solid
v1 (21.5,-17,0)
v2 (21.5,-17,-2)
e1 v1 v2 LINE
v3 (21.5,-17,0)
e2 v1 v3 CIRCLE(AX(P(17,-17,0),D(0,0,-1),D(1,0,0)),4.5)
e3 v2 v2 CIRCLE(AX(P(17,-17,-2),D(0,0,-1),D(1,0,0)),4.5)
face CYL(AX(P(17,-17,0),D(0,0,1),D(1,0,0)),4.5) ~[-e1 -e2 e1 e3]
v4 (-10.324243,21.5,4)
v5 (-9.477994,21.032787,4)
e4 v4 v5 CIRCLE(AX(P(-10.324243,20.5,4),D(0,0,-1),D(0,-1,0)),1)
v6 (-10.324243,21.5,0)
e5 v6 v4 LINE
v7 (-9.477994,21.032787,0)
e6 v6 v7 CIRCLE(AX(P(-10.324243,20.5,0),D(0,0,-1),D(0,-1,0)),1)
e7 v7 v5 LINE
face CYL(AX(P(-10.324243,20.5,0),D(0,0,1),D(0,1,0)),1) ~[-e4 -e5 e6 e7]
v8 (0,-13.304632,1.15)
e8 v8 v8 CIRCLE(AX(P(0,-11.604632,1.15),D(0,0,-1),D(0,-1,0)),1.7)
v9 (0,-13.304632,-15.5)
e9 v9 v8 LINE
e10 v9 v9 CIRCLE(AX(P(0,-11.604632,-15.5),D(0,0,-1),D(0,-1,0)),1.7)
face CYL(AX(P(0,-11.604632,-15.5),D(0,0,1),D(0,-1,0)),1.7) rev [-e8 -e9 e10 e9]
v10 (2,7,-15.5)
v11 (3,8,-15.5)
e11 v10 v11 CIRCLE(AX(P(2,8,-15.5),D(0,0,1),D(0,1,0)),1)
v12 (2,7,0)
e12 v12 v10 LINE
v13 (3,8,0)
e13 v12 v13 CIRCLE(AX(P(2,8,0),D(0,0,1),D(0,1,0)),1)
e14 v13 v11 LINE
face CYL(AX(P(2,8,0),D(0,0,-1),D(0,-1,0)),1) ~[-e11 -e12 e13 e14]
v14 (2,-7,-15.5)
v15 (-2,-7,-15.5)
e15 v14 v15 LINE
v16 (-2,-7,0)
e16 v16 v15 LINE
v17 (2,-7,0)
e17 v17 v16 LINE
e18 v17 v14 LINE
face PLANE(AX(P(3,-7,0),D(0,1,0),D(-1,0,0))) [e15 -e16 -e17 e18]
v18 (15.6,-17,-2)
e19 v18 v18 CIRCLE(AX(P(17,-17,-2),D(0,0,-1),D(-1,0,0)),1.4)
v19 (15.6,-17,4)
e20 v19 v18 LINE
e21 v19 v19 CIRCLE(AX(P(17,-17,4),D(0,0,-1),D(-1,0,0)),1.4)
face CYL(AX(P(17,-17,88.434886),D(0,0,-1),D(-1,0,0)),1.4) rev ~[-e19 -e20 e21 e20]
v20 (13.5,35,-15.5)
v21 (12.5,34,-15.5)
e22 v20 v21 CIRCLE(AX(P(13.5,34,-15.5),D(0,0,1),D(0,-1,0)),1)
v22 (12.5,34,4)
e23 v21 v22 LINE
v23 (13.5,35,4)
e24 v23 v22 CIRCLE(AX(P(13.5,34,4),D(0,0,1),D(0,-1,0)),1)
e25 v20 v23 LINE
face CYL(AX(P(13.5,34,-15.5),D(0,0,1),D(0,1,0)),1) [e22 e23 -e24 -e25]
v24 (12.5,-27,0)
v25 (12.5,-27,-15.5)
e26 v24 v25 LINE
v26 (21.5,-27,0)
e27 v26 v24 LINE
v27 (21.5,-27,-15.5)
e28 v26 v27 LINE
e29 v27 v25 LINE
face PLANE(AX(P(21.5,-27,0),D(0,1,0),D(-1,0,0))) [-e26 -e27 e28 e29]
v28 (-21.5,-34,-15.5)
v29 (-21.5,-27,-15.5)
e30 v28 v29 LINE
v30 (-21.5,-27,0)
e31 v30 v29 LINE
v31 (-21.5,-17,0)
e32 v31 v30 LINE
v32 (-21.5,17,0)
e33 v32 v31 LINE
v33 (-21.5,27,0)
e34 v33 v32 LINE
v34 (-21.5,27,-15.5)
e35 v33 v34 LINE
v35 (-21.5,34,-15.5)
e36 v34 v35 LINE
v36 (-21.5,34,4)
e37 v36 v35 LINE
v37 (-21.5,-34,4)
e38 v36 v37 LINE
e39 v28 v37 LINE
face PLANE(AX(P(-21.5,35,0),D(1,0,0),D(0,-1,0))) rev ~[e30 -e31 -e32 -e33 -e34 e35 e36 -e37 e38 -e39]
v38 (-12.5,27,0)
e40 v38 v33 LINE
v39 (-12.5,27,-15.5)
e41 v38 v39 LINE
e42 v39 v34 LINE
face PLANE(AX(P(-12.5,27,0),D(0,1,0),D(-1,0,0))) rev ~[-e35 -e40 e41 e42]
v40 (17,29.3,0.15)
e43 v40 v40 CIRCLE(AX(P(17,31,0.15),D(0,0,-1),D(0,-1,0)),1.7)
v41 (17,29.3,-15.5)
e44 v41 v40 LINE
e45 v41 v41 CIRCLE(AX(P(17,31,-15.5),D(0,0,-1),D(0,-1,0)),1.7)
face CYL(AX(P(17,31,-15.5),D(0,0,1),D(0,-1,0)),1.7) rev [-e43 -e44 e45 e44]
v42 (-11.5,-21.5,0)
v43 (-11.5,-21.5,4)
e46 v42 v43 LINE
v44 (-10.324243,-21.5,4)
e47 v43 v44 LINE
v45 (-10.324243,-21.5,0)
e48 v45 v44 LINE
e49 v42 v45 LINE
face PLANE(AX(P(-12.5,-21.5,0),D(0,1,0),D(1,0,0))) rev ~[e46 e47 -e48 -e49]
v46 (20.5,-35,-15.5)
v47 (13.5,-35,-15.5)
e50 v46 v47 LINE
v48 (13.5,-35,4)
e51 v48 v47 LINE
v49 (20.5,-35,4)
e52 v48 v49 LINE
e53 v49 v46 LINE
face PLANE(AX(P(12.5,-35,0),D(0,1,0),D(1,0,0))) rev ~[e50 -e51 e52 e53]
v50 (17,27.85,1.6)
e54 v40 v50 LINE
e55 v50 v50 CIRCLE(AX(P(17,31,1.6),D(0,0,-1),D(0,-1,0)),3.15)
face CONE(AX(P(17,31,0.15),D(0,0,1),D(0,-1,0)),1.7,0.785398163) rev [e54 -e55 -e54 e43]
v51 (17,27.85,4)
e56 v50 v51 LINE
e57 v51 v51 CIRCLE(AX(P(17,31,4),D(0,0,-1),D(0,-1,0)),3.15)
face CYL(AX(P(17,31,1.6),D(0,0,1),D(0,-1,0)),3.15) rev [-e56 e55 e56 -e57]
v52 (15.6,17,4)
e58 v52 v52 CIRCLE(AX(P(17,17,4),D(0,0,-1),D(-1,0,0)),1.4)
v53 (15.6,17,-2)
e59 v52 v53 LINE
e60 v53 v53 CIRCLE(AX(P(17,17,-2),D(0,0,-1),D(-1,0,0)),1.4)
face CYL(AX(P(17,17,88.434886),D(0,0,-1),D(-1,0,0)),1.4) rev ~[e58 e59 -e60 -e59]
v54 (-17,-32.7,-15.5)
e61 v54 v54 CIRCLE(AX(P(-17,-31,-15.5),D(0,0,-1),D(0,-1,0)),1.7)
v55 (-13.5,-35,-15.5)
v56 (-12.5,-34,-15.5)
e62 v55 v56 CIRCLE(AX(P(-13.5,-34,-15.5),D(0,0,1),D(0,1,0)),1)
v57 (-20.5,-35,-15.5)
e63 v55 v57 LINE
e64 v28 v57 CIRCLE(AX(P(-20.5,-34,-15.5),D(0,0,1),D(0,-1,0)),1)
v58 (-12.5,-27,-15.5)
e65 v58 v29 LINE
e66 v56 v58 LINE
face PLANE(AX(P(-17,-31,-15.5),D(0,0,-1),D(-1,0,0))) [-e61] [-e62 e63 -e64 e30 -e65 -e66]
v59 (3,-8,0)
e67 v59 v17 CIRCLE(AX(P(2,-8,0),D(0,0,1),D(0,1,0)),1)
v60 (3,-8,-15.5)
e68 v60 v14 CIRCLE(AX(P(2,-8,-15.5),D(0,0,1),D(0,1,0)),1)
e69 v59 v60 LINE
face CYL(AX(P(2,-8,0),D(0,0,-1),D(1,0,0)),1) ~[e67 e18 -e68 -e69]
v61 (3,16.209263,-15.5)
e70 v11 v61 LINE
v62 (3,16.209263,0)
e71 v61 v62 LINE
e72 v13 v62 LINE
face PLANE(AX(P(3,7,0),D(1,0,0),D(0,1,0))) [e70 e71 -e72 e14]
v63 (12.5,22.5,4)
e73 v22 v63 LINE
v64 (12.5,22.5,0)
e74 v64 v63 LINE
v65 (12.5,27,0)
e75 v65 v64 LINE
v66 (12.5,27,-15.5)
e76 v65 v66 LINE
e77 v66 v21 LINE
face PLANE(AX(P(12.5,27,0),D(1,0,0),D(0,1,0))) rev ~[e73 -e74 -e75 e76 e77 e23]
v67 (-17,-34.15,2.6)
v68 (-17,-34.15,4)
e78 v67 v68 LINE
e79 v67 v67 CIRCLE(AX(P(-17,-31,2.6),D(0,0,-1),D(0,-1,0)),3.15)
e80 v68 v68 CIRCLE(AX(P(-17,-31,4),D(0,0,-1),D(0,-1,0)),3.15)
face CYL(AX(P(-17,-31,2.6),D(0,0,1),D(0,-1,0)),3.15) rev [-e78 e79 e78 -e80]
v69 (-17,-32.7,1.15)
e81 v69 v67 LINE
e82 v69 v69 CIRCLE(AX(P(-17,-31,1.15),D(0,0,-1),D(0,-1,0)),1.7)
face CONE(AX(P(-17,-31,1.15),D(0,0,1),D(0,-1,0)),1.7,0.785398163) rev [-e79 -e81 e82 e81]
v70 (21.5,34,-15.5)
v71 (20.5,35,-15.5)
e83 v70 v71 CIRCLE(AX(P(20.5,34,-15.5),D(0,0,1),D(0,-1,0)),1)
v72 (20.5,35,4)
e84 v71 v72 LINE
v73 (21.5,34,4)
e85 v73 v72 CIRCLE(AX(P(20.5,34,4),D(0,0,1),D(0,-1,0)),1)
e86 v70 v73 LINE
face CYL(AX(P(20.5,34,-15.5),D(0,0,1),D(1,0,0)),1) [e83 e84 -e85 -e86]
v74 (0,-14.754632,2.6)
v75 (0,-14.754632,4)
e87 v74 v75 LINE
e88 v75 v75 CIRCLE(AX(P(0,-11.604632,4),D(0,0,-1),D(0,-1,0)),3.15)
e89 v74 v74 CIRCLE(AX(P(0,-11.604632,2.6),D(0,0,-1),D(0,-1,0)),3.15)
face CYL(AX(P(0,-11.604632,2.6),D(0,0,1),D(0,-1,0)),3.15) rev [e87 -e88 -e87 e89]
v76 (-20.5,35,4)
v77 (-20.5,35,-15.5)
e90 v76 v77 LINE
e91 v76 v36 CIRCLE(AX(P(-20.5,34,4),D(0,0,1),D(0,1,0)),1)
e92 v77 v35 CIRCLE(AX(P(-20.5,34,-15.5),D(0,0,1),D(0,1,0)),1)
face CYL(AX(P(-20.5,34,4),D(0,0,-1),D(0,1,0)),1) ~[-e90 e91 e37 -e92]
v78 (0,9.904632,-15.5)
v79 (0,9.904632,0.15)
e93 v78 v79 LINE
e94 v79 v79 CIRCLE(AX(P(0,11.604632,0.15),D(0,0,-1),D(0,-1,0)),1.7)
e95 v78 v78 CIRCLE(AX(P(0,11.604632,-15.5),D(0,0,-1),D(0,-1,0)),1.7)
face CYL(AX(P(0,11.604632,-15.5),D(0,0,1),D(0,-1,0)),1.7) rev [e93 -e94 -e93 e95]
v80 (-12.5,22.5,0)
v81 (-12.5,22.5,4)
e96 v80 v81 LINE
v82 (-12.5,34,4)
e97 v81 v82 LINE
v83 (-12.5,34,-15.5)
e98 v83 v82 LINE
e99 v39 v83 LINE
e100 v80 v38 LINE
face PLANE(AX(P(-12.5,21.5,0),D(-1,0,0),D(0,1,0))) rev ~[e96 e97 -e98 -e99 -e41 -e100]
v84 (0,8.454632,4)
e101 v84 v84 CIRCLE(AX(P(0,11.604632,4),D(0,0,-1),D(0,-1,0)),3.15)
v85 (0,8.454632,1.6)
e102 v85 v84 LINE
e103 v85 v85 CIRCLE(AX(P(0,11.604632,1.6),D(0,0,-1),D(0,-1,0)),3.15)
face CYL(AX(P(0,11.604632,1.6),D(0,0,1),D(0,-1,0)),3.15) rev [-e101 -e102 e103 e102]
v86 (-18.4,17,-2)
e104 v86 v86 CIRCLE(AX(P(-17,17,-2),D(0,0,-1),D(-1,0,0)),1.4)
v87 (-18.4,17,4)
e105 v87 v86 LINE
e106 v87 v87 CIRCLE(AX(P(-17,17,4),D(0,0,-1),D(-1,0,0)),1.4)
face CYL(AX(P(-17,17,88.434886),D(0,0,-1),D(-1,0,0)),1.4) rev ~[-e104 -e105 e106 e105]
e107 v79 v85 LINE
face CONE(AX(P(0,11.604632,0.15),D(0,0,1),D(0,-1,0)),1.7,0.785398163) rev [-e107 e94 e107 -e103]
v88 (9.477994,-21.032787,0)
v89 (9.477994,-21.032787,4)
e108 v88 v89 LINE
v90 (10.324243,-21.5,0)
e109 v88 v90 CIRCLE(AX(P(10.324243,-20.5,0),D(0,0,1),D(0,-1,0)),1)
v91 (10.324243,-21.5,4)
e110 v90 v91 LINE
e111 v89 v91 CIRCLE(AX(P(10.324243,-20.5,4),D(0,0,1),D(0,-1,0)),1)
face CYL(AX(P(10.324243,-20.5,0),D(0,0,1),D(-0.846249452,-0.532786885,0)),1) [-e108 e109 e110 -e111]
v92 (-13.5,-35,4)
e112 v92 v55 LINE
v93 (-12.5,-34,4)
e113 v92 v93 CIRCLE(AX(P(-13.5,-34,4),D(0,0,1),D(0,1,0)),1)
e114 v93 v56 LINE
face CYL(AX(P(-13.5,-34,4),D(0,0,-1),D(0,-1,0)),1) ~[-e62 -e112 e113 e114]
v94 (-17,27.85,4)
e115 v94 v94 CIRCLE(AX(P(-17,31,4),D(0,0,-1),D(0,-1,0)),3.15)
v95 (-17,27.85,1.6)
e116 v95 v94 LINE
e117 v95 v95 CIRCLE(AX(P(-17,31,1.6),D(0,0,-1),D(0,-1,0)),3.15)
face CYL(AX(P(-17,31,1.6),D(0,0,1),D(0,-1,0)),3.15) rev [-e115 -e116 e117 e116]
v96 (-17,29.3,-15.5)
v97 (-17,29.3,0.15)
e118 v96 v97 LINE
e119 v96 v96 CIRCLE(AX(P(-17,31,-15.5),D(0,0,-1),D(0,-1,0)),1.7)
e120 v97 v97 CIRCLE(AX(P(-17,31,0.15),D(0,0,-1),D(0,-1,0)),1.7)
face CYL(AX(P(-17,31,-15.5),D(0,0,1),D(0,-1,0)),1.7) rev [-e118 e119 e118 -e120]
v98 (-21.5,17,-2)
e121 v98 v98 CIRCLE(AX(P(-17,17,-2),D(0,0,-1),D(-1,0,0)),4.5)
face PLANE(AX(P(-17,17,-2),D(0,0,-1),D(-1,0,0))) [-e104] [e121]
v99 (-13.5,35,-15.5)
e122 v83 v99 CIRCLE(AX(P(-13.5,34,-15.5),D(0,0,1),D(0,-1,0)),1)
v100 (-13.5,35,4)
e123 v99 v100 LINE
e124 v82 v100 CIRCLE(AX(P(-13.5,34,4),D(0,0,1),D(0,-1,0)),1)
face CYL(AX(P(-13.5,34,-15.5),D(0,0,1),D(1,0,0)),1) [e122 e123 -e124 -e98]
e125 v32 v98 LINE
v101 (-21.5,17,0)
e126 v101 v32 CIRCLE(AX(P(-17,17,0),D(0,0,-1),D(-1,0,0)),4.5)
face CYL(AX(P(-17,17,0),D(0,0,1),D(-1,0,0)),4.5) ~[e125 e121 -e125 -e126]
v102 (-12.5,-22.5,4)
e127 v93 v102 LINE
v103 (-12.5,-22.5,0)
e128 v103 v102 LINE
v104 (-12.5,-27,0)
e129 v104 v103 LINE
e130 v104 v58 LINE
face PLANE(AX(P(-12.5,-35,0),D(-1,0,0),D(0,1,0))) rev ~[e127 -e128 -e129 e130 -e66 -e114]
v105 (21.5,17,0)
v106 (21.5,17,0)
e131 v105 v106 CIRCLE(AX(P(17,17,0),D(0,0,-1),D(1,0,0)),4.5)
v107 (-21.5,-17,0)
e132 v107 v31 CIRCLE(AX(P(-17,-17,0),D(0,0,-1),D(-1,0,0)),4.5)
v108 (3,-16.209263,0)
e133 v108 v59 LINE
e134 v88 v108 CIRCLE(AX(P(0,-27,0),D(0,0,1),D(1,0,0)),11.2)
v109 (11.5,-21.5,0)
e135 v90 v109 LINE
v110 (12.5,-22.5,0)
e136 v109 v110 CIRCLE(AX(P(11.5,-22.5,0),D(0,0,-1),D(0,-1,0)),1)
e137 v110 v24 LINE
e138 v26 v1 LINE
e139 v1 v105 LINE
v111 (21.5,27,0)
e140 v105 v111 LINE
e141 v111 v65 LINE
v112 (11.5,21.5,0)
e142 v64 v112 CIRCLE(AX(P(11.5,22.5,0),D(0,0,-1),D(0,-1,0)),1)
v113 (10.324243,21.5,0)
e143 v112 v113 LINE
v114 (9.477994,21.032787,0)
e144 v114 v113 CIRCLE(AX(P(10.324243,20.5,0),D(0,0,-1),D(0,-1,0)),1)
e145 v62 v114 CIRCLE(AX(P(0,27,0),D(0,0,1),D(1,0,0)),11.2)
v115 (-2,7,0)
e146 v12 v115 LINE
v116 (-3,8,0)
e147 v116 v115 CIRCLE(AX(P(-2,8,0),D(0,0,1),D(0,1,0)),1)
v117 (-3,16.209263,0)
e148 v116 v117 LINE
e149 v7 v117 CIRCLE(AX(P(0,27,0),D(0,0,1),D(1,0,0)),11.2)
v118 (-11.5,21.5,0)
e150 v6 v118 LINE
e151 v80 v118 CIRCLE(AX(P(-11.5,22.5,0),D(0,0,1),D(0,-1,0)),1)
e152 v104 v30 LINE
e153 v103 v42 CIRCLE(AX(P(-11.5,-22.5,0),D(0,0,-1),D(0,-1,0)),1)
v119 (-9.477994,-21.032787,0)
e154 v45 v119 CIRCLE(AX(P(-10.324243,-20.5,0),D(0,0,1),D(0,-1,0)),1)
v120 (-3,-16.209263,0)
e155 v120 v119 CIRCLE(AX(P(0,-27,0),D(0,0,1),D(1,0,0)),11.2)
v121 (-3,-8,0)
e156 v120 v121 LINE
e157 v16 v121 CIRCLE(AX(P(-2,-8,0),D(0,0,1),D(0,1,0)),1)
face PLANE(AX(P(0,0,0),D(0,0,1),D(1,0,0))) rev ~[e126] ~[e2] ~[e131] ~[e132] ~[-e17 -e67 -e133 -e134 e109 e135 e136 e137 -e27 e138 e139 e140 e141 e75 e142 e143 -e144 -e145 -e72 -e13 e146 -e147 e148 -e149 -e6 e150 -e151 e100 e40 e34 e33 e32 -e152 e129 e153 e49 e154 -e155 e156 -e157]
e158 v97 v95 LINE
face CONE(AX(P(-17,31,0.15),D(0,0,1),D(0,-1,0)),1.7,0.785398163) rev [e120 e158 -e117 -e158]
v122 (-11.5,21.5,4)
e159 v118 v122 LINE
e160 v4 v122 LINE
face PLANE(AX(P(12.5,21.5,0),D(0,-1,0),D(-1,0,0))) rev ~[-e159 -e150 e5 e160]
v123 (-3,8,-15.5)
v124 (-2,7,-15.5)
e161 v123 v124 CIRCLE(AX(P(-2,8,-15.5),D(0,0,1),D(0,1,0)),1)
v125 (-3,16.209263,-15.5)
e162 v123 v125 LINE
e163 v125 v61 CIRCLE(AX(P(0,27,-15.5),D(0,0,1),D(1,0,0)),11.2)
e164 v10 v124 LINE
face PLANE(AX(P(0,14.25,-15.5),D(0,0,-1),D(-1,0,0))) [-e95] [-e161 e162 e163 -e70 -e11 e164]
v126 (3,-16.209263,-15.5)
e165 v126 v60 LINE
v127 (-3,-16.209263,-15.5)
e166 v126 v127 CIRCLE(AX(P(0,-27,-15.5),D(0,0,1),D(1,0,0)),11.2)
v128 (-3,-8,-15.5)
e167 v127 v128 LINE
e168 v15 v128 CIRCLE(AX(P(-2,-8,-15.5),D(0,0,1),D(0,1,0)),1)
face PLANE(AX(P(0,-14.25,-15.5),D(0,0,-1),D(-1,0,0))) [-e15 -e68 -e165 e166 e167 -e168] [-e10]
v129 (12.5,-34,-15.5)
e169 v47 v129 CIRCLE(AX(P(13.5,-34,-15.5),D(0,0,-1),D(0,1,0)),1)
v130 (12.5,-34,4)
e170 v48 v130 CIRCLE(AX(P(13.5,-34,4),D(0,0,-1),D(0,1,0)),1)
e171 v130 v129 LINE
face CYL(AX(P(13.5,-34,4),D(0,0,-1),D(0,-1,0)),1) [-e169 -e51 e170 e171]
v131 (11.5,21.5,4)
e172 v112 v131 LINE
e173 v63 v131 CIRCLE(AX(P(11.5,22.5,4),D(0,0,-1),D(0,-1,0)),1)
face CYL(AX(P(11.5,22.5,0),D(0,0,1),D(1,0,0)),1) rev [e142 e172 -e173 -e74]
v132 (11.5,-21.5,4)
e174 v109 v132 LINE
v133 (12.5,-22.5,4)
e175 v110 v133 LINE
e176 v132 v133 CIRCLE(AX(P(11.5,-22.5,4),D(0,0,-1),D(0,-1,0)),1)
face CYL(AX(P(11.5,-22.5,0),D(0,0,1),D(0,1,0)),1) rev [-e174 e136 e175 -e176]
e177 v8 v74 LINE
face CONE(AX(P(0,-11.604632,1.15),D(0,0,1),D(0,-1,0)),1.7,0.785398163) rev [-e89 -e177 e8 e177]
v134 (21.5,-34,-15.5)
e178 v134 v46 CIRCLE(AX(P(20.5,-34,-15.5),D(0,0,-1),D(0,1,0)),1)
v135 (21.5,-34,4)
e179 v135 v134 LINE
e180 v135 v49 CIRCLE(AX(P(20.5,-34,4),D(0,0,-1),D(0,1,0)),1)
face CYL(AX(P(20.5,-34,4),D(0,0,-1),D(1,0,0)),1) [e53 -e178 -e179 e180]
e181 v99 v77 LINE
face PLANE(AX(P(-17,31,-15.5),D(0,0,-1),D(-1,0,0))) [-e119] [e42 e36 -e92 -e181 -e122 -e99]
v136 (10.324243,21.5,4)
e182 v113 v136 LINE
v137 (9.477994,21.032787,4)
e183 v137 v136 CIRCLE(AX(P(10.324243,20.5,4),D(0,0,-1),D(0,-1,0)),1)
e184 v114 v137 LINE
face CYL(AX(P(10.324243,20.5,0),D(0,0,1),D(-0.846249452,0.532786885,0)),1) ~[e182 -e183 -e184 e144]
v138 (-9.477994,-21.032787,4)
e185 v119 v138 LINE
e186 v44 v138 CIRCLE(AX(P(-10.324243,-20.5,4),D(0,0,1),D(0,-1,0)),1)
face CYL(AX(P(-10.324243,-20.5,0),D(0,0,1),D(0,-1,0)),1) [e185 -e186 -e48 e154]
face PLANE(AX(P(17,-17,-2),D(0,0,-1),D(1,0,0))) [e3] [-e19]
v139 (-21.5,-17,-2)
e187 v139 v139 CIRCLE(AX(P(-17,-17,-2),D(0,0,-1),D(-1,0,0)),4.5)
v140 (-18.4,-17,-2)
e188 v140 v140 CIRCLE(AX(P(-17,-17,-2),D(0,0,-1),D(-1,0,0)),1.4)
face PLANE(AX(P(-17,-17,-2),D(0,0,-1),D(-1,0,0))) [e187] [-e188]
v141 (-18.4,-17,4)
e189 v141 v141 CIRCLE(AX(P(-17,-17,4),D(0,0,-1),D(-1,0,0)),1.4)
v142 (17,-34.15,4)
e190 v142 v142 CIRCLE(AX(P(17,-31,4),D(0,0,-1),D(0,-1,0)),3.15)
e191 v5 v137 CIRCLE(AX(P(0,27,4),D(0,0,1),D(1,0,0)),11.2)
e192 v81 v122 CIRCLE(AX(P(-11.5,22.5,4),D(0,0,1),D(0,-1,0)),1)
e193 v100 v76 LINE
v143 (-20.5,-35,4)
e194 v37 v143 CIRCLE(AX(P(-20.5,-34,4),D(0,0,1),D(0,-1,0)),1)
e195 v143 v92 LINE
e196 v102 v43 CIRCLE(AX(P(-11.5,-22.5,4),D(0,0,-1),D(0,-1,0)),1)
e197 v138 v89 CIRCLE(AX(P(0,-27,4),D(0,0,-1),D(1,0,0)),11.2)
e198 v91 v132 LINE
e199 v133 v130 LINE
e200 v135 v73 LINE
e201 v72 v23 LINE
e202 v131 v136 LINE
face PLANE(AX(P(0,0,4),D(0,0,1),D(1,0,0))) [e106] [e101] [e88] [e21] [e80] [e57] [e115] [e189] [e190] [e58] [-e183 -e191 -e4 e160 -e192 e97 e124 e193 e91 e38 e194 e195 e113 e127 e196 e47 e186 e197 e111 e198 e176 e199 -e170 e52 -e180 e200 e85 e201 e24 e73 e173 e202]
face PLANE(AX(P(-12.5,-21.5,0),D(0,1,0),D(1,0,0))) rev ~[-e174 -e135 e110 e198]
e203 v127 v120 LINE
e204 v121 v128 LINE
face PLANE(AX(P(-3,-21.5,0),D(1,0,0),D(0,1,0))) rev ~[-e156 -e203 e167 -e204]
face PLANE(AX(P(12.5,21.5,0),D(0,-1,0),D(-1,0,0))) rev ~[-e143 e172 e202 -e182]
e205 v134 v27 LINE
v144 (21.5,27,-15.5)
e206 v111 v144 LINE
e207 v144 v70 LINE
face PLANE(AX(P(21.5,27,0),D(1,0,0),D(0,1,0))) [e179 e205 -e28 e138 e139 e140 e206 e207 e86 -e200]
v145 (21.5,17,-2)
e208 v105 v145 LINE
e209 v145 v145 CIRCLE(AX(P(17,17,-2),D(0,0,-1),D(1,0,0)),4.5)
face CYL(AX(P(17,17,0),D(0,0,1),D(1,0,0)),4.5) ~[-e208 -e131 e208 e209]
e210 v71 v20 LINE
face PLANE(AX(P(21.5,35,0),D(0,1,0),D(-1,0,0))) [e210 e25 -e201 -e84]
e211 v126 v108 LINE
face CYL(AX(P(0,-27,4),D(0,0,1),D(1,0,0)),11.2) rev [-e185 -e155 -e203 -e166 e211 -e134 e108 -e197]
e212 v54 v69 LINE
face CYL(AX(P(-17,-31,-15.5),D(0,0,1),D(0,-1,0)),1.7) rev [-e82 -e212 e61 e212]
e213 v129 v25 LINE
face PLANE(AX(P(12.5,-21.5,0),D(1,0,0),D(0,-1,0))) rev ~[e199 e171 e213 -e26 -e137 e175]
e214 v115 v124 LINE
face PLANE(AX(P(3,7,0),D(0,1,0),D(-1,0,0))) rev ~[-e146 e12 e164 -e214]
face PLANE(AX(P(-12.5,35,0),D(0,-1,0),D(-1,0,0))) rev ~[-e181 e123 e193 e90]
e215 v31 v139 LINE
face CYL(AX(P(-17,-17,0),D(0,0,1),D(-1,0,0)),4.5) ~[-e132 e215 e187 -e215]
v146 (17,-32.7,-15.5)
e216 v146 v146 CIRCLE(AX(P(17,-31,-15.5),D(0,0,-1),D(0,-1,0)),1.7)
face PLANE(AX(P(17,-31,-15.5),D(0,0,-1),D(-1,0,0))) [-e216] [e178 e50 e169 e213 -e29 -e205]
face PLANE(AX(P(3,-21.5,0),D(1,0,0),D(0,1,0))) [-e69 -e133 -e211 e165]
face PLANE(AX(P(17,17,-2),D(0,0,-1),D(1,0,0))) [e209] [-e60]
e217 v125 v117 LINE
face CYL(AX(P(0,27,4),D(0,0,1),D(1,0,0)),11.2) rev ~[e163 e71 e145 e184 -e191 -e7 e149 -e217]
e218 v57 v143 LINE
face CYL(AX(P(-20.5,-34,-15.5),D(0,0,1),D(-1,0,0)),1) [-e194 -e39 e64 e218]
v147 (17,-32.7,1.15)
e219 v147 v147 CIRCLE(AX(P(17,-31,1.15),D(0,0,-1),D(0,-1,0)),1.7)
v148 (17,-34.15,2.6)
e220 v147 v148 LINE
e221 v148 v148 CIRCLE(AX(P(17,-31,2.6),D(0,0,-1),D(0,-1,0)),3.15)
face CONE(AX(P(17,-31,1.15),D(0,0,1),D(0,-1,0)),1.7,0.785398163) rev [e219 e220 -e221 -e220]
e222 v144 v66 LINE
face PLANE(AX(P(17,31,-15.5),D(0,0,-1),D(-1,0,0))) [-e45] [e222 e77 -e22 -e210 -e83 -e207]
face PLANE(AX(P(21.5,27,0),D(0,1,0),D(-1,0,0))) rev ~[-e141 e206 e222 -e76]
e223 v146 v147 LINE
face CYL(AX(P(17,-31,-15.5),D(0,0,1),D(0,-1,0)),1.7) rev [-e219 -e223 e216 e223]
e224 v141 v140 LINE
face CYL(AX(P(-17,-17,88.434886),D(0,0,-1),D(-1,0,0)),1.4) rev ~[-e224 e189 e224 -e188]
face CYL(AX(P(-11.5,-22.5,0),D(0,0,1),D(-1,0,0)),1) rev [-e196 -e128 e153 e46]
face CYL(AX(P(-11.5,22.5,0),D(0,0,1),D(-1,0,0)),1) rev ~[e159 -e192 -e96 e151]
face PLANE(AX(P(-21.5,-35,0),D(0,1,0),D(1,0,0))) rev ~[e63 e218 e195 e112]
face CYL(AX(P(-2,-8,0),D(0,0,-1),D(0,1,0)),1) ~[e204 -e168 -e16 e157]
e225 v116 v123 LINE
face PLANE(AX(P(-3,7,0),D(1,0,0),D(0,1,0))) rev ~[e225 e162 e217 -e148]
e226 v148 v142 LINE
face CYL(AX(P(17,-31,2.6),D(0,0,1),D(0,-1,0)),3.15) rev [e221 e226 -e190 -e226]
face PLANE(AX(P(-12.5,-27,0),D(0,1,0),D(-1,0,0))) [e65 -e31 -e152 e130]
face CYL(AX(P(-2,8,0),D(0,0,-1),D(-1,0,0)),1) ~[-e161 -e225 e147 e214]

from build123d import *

# Parameters (mm, degrees)
BOSS_EXTRUDE1_DEPTH                            = 4
SKETCH5_R                                      = 4.5
BOSS_EXTRUDE2_DEPTH                            = 2
SKETCH7_W                                      = 6
SKETCH7_H                                      = 14.5
BOSS_EXTRUDE3_DEPTH                            = 15.5
SKETCH13_W                                     = 9
SKETCH13_H                                     = 8
BOSS_EXTRUDE4_DEPTH                            = 15.5
SKETCH6_R                                      = 11.2
CUT_EXTRUDE1_DEPTH                             = 46.469770178
F_2_8_2_8_DIAMETER_HOLE1_D                     = 2.8
CSK_FOR_M3_FLAT_HEAD_MACHINE_SCREW1_AT_2_COUNT = 2
CSK_FOR_M3_FLAT_HEAD_MACHINE_SCREW1_AT_2_PITCH = 25.791089833
CSK_FOR_M3_FLAT_HEAD_MACHINE_SCREW1_AT_3_COUNT = 2
CSK_FOR_M3_FLAT_HEAD_MACHINE_SCREW1_AT_3_PITCH = 25.791089833
CSK_FOR_M3_FLAT_HEAD_MACHINE_SCREW2_AT_2_COUNT = 2
CSK_FOR_M3_FLAT_HEAD_MACHINE_SCREW2_AT_2_PITCH = 25.791089833
CSK_FOR_M3_FLAT_HEAD_MACHINE_SCREW2_AT_3_COUNT = 2
CSK_FOR_M3_FLAT_HEAD_MACHINE_SCREW2_AT_3_PITCH = 25.791089833
FILLET2_R                                      = 1


with BuildPart() as part:
    # Sketch2 → Boss-Extrude1 (new body)
    with BuildSketch(Plane.XY):
        Polygon((-21.5, 35), (-21.5, -35), (-12.5, -35), (-12.5, -21.5), (12.5, -21.5), (12.5, -35), (21.5, -35), (21.5, 35), (12.5, 35), (12.5, 21.5), (-12.5, 21.5), (-12.5, 35), align=None)
    extrude(amount=BOSS_EXTRUDE1_DEPTH)

    # Sketch5 → Boss-Extrude2 (add)
    with BuildSketch(Plane(origin=(0, 0, 0), x_dir=(-1, 0, 0), z_dir=(0, 0, -1))):
        with Locations(Location((-17, 17, 0), (0, 0, 180))):
            Circle(SKETCH5_R)
        with Locations((17, 17)):
            Circle(SKETCH5_R)
        with Locations((17, -17)):
            Circle(SKETCH5_R)
        with Locations(Location((-17, -17, 0), (0, 0, 180))):
            Circle(SKETCH5_R)
    extrude(amount=BOSS_EXTRUDE2_DEPTH)

    # Sketch7 → Boss-Extrude3 (add)
    with BuildSketch(Plane(origin=(0, 0, 0), x_dir=(-1, 0, 0), z_dir=(0, 0, -1))):
        with Locations((0, 14.25)):
            Rectangle(SKETCH7_W, SKETCH7_H)
        with Locations((0, -14.25)):
            Rectangle(SKETCH7_W, SKETCH7_H)
    extrude(amount=BOSS_EXTRUDE3_DEPTH)

    # Sketch13 → Boss-Extrude4 (add)
    with BuildSketch(Plane(origin=(0, 0, 0), x_dir=(-1, 0, 0), z_dir=(0, 0, -1))):
        with Locations((-17, 31)):
            Rectangle(SKETCH13_W, SKETCH13_H)
        with Locations((17, 31)):
            Rectangle(SKETCH13_W, SKETCH13_H)
        with Locations((17, -31)):
            Rectangle(SKETCH13_W, SKETCH13_H)
        with Locations((-17, -31)):
            Rectangle(SKETCH13_W, SKETCH13_H)
    extrude(amount=BOSS_EXTRUDE4_DEPTH)

    # Sketch6 → Cut-Extrude1 (cut, through all)
    with BuildSketch(Plane.XY.offset(4)):
        with Locations((0, 27)):
            Circle(SKETCH6_R)
    cut_extrude1 = extrude(amount=-CUT_EXTRUDE1_DEPTH, mode=Mode.SUBTRACT)

    # Mirror1: Cut-Extrude1 across plane
    add(cut_extrude1.mirror(Plane.ZX), mode=Mode.SUBTRACT)

    # Ø2.8 (2.8) Diameter Hole1 (through all)
    with Locations(Plane.XY.offset(4)):
        with Locations((-17, 17), (17, 17), (17, -17), (-17, -17)):
            Hole(F_2_8_2_8_DIAMETER_HOLE1_D / 2)

    # Sketch9 → CSK for M3 Flat Head Machine Screw1 (revolve, cut)
    with BuildSketch(Plane(origin=(0, 11.604631616, 4), x_dir=(0, -1, 0), z_dir=(1, 0, 0))):
        Polygon((0, 0), (0, 19.5), (1.7, 19.5), (1.7, 3.85), (3.15, 2.4), (3.15, 0), align=None)
    csk_for_m3_flat_head_machine_screw1 = revolve(axis=Axis((0, 11.604631616, 10.35), (0, 0, -1)), mode=Mode.SUBTRACT)

    # CSK for M3 Flat Head Machine Screw1 at 2: CSK for M3 Flat Head Machine Screw1 ×2
    with Locations(*[Vector(0.6591423670083493, 0.7520181779815104, 0) * (i * CSK_FOR_M3_FLAT_HEAD_MACHINE_SCREW1_AT_2_PITCH) for i in range(1, CSK_FOR_M3_FLAT_HEAD_MACHINE_SCREW1_AT_2_COUNT)]):
        add(csk_for_m3_flat_head_machine_screw1, mode=Mode.SUBTRACT)

    # CSK for M3 Flat Head Machine Screw1 at 3: CSK for M3 Flat Head Machine Screw1 ×2
    with Locations(*[Vector(-0.6591423670083494, 0.7520181779815103, 0) * (i * CSK_FOR_M3_FLAT_HEAD_MACHINE_SCREW1_AT_3_PITCH) for i in range(1, CSK_FOR_M3_FLAT_HEAD_MACHINE_SCREW1_AT_3_COUNT)]):
        add(csk_for_m3_flat_head_machine_screw1, mode=Mode.SUBTRACT)

    # Sketch11 → CSK for M3 Flat Head Machine Screw2 (revolve, cut)
    with BuildSketch(Plane(origin=(0, -11.604631616, 4), x_dir=(0, -1, 0), z_dir=(1, 0, 0))):
        Polygon((0, 0), (0, 19.5), (1.7, 19.5), (1.7, 2.85), (3.15, 1.4), (3.15, 0), align=None)
    csk_for_m3_flat_head_machine_screw2 = revolve(axis=Axis((0, -11.604631616, 10.35), (0, 0, -1)), mode=Mode.SUBTRACT)

    # CSK for M3 Flat Head Machine Screw2 at 2: CSK for M3 Flat Head Machine Screw2 ×2
    with Locations(*[Vector(-0.6591423670083494, -0.7520181779815103, 0) * (i * CSK_FOR_M3_FLAT_HEAD_MACHINE_SCREW2_AT_2_PITCH) for i in range(1, CSK_FOR_M3_FLAT_HEAD_MACHINE_SCREW2_AT_2_COUNT)]):
        add(csk_for_m3_flat_head_machine_screw2, mode=Mode.SUBTRACT)

    # CSK for M3 Flat Head Machine Screw2 at 3: CSK for M3 Flat Head Machine Screw2 ×2
    with Locations(*[Vector(0.6591423670083493, -0.7520181779815104, 0) * (i * CSK_FOR_M3_FLAT_HEAD_MACHINE_SCREW2_AT_3_PITCH) for i in range(1, CSK_FOR_M3_FLAT_HEAD_MACHINE_SCREW2_AT_3_COUNT)]):
        add(csk_for_m3_flat_head_machine_screw2, mode=Mode.SUBTRACT)

    # Fillet2
    fillet2_edges = [part.edges().sort_by_distance(p)[0] for p in [
        (9.756536271, 21.5, 2),
        (-9.756536271, 21.5, 2),
        (9.756536271, -21.5, 2),
        (-9.756536271, -21.5, 2),
        (-12.5, 35, -5.75),
        (-12.5, 21.5, 2),
        (12.5, 21.5, 2),
        (12.5, 35, -5.75),
        (21.5, 35, -5.75),
        (21.5, -35, -5.75),
        (12.5, -35, -5.75),
        (12.5, -21.5, 2),
        (-12.5, -21.5, 2),
        (-12.5, -35, -5.75),
        (-21.5, -35, -5.75),
        (-21.5, 35, -5.75),
        (3, 7, -7.75),
        (-3, 7, -7.75),
        (-3, -7, -7.75),
        (3, -7, -7.75),
    ]]
    fillet(fillet2_edges, radius=FILLET2_R)


solid = part.part
